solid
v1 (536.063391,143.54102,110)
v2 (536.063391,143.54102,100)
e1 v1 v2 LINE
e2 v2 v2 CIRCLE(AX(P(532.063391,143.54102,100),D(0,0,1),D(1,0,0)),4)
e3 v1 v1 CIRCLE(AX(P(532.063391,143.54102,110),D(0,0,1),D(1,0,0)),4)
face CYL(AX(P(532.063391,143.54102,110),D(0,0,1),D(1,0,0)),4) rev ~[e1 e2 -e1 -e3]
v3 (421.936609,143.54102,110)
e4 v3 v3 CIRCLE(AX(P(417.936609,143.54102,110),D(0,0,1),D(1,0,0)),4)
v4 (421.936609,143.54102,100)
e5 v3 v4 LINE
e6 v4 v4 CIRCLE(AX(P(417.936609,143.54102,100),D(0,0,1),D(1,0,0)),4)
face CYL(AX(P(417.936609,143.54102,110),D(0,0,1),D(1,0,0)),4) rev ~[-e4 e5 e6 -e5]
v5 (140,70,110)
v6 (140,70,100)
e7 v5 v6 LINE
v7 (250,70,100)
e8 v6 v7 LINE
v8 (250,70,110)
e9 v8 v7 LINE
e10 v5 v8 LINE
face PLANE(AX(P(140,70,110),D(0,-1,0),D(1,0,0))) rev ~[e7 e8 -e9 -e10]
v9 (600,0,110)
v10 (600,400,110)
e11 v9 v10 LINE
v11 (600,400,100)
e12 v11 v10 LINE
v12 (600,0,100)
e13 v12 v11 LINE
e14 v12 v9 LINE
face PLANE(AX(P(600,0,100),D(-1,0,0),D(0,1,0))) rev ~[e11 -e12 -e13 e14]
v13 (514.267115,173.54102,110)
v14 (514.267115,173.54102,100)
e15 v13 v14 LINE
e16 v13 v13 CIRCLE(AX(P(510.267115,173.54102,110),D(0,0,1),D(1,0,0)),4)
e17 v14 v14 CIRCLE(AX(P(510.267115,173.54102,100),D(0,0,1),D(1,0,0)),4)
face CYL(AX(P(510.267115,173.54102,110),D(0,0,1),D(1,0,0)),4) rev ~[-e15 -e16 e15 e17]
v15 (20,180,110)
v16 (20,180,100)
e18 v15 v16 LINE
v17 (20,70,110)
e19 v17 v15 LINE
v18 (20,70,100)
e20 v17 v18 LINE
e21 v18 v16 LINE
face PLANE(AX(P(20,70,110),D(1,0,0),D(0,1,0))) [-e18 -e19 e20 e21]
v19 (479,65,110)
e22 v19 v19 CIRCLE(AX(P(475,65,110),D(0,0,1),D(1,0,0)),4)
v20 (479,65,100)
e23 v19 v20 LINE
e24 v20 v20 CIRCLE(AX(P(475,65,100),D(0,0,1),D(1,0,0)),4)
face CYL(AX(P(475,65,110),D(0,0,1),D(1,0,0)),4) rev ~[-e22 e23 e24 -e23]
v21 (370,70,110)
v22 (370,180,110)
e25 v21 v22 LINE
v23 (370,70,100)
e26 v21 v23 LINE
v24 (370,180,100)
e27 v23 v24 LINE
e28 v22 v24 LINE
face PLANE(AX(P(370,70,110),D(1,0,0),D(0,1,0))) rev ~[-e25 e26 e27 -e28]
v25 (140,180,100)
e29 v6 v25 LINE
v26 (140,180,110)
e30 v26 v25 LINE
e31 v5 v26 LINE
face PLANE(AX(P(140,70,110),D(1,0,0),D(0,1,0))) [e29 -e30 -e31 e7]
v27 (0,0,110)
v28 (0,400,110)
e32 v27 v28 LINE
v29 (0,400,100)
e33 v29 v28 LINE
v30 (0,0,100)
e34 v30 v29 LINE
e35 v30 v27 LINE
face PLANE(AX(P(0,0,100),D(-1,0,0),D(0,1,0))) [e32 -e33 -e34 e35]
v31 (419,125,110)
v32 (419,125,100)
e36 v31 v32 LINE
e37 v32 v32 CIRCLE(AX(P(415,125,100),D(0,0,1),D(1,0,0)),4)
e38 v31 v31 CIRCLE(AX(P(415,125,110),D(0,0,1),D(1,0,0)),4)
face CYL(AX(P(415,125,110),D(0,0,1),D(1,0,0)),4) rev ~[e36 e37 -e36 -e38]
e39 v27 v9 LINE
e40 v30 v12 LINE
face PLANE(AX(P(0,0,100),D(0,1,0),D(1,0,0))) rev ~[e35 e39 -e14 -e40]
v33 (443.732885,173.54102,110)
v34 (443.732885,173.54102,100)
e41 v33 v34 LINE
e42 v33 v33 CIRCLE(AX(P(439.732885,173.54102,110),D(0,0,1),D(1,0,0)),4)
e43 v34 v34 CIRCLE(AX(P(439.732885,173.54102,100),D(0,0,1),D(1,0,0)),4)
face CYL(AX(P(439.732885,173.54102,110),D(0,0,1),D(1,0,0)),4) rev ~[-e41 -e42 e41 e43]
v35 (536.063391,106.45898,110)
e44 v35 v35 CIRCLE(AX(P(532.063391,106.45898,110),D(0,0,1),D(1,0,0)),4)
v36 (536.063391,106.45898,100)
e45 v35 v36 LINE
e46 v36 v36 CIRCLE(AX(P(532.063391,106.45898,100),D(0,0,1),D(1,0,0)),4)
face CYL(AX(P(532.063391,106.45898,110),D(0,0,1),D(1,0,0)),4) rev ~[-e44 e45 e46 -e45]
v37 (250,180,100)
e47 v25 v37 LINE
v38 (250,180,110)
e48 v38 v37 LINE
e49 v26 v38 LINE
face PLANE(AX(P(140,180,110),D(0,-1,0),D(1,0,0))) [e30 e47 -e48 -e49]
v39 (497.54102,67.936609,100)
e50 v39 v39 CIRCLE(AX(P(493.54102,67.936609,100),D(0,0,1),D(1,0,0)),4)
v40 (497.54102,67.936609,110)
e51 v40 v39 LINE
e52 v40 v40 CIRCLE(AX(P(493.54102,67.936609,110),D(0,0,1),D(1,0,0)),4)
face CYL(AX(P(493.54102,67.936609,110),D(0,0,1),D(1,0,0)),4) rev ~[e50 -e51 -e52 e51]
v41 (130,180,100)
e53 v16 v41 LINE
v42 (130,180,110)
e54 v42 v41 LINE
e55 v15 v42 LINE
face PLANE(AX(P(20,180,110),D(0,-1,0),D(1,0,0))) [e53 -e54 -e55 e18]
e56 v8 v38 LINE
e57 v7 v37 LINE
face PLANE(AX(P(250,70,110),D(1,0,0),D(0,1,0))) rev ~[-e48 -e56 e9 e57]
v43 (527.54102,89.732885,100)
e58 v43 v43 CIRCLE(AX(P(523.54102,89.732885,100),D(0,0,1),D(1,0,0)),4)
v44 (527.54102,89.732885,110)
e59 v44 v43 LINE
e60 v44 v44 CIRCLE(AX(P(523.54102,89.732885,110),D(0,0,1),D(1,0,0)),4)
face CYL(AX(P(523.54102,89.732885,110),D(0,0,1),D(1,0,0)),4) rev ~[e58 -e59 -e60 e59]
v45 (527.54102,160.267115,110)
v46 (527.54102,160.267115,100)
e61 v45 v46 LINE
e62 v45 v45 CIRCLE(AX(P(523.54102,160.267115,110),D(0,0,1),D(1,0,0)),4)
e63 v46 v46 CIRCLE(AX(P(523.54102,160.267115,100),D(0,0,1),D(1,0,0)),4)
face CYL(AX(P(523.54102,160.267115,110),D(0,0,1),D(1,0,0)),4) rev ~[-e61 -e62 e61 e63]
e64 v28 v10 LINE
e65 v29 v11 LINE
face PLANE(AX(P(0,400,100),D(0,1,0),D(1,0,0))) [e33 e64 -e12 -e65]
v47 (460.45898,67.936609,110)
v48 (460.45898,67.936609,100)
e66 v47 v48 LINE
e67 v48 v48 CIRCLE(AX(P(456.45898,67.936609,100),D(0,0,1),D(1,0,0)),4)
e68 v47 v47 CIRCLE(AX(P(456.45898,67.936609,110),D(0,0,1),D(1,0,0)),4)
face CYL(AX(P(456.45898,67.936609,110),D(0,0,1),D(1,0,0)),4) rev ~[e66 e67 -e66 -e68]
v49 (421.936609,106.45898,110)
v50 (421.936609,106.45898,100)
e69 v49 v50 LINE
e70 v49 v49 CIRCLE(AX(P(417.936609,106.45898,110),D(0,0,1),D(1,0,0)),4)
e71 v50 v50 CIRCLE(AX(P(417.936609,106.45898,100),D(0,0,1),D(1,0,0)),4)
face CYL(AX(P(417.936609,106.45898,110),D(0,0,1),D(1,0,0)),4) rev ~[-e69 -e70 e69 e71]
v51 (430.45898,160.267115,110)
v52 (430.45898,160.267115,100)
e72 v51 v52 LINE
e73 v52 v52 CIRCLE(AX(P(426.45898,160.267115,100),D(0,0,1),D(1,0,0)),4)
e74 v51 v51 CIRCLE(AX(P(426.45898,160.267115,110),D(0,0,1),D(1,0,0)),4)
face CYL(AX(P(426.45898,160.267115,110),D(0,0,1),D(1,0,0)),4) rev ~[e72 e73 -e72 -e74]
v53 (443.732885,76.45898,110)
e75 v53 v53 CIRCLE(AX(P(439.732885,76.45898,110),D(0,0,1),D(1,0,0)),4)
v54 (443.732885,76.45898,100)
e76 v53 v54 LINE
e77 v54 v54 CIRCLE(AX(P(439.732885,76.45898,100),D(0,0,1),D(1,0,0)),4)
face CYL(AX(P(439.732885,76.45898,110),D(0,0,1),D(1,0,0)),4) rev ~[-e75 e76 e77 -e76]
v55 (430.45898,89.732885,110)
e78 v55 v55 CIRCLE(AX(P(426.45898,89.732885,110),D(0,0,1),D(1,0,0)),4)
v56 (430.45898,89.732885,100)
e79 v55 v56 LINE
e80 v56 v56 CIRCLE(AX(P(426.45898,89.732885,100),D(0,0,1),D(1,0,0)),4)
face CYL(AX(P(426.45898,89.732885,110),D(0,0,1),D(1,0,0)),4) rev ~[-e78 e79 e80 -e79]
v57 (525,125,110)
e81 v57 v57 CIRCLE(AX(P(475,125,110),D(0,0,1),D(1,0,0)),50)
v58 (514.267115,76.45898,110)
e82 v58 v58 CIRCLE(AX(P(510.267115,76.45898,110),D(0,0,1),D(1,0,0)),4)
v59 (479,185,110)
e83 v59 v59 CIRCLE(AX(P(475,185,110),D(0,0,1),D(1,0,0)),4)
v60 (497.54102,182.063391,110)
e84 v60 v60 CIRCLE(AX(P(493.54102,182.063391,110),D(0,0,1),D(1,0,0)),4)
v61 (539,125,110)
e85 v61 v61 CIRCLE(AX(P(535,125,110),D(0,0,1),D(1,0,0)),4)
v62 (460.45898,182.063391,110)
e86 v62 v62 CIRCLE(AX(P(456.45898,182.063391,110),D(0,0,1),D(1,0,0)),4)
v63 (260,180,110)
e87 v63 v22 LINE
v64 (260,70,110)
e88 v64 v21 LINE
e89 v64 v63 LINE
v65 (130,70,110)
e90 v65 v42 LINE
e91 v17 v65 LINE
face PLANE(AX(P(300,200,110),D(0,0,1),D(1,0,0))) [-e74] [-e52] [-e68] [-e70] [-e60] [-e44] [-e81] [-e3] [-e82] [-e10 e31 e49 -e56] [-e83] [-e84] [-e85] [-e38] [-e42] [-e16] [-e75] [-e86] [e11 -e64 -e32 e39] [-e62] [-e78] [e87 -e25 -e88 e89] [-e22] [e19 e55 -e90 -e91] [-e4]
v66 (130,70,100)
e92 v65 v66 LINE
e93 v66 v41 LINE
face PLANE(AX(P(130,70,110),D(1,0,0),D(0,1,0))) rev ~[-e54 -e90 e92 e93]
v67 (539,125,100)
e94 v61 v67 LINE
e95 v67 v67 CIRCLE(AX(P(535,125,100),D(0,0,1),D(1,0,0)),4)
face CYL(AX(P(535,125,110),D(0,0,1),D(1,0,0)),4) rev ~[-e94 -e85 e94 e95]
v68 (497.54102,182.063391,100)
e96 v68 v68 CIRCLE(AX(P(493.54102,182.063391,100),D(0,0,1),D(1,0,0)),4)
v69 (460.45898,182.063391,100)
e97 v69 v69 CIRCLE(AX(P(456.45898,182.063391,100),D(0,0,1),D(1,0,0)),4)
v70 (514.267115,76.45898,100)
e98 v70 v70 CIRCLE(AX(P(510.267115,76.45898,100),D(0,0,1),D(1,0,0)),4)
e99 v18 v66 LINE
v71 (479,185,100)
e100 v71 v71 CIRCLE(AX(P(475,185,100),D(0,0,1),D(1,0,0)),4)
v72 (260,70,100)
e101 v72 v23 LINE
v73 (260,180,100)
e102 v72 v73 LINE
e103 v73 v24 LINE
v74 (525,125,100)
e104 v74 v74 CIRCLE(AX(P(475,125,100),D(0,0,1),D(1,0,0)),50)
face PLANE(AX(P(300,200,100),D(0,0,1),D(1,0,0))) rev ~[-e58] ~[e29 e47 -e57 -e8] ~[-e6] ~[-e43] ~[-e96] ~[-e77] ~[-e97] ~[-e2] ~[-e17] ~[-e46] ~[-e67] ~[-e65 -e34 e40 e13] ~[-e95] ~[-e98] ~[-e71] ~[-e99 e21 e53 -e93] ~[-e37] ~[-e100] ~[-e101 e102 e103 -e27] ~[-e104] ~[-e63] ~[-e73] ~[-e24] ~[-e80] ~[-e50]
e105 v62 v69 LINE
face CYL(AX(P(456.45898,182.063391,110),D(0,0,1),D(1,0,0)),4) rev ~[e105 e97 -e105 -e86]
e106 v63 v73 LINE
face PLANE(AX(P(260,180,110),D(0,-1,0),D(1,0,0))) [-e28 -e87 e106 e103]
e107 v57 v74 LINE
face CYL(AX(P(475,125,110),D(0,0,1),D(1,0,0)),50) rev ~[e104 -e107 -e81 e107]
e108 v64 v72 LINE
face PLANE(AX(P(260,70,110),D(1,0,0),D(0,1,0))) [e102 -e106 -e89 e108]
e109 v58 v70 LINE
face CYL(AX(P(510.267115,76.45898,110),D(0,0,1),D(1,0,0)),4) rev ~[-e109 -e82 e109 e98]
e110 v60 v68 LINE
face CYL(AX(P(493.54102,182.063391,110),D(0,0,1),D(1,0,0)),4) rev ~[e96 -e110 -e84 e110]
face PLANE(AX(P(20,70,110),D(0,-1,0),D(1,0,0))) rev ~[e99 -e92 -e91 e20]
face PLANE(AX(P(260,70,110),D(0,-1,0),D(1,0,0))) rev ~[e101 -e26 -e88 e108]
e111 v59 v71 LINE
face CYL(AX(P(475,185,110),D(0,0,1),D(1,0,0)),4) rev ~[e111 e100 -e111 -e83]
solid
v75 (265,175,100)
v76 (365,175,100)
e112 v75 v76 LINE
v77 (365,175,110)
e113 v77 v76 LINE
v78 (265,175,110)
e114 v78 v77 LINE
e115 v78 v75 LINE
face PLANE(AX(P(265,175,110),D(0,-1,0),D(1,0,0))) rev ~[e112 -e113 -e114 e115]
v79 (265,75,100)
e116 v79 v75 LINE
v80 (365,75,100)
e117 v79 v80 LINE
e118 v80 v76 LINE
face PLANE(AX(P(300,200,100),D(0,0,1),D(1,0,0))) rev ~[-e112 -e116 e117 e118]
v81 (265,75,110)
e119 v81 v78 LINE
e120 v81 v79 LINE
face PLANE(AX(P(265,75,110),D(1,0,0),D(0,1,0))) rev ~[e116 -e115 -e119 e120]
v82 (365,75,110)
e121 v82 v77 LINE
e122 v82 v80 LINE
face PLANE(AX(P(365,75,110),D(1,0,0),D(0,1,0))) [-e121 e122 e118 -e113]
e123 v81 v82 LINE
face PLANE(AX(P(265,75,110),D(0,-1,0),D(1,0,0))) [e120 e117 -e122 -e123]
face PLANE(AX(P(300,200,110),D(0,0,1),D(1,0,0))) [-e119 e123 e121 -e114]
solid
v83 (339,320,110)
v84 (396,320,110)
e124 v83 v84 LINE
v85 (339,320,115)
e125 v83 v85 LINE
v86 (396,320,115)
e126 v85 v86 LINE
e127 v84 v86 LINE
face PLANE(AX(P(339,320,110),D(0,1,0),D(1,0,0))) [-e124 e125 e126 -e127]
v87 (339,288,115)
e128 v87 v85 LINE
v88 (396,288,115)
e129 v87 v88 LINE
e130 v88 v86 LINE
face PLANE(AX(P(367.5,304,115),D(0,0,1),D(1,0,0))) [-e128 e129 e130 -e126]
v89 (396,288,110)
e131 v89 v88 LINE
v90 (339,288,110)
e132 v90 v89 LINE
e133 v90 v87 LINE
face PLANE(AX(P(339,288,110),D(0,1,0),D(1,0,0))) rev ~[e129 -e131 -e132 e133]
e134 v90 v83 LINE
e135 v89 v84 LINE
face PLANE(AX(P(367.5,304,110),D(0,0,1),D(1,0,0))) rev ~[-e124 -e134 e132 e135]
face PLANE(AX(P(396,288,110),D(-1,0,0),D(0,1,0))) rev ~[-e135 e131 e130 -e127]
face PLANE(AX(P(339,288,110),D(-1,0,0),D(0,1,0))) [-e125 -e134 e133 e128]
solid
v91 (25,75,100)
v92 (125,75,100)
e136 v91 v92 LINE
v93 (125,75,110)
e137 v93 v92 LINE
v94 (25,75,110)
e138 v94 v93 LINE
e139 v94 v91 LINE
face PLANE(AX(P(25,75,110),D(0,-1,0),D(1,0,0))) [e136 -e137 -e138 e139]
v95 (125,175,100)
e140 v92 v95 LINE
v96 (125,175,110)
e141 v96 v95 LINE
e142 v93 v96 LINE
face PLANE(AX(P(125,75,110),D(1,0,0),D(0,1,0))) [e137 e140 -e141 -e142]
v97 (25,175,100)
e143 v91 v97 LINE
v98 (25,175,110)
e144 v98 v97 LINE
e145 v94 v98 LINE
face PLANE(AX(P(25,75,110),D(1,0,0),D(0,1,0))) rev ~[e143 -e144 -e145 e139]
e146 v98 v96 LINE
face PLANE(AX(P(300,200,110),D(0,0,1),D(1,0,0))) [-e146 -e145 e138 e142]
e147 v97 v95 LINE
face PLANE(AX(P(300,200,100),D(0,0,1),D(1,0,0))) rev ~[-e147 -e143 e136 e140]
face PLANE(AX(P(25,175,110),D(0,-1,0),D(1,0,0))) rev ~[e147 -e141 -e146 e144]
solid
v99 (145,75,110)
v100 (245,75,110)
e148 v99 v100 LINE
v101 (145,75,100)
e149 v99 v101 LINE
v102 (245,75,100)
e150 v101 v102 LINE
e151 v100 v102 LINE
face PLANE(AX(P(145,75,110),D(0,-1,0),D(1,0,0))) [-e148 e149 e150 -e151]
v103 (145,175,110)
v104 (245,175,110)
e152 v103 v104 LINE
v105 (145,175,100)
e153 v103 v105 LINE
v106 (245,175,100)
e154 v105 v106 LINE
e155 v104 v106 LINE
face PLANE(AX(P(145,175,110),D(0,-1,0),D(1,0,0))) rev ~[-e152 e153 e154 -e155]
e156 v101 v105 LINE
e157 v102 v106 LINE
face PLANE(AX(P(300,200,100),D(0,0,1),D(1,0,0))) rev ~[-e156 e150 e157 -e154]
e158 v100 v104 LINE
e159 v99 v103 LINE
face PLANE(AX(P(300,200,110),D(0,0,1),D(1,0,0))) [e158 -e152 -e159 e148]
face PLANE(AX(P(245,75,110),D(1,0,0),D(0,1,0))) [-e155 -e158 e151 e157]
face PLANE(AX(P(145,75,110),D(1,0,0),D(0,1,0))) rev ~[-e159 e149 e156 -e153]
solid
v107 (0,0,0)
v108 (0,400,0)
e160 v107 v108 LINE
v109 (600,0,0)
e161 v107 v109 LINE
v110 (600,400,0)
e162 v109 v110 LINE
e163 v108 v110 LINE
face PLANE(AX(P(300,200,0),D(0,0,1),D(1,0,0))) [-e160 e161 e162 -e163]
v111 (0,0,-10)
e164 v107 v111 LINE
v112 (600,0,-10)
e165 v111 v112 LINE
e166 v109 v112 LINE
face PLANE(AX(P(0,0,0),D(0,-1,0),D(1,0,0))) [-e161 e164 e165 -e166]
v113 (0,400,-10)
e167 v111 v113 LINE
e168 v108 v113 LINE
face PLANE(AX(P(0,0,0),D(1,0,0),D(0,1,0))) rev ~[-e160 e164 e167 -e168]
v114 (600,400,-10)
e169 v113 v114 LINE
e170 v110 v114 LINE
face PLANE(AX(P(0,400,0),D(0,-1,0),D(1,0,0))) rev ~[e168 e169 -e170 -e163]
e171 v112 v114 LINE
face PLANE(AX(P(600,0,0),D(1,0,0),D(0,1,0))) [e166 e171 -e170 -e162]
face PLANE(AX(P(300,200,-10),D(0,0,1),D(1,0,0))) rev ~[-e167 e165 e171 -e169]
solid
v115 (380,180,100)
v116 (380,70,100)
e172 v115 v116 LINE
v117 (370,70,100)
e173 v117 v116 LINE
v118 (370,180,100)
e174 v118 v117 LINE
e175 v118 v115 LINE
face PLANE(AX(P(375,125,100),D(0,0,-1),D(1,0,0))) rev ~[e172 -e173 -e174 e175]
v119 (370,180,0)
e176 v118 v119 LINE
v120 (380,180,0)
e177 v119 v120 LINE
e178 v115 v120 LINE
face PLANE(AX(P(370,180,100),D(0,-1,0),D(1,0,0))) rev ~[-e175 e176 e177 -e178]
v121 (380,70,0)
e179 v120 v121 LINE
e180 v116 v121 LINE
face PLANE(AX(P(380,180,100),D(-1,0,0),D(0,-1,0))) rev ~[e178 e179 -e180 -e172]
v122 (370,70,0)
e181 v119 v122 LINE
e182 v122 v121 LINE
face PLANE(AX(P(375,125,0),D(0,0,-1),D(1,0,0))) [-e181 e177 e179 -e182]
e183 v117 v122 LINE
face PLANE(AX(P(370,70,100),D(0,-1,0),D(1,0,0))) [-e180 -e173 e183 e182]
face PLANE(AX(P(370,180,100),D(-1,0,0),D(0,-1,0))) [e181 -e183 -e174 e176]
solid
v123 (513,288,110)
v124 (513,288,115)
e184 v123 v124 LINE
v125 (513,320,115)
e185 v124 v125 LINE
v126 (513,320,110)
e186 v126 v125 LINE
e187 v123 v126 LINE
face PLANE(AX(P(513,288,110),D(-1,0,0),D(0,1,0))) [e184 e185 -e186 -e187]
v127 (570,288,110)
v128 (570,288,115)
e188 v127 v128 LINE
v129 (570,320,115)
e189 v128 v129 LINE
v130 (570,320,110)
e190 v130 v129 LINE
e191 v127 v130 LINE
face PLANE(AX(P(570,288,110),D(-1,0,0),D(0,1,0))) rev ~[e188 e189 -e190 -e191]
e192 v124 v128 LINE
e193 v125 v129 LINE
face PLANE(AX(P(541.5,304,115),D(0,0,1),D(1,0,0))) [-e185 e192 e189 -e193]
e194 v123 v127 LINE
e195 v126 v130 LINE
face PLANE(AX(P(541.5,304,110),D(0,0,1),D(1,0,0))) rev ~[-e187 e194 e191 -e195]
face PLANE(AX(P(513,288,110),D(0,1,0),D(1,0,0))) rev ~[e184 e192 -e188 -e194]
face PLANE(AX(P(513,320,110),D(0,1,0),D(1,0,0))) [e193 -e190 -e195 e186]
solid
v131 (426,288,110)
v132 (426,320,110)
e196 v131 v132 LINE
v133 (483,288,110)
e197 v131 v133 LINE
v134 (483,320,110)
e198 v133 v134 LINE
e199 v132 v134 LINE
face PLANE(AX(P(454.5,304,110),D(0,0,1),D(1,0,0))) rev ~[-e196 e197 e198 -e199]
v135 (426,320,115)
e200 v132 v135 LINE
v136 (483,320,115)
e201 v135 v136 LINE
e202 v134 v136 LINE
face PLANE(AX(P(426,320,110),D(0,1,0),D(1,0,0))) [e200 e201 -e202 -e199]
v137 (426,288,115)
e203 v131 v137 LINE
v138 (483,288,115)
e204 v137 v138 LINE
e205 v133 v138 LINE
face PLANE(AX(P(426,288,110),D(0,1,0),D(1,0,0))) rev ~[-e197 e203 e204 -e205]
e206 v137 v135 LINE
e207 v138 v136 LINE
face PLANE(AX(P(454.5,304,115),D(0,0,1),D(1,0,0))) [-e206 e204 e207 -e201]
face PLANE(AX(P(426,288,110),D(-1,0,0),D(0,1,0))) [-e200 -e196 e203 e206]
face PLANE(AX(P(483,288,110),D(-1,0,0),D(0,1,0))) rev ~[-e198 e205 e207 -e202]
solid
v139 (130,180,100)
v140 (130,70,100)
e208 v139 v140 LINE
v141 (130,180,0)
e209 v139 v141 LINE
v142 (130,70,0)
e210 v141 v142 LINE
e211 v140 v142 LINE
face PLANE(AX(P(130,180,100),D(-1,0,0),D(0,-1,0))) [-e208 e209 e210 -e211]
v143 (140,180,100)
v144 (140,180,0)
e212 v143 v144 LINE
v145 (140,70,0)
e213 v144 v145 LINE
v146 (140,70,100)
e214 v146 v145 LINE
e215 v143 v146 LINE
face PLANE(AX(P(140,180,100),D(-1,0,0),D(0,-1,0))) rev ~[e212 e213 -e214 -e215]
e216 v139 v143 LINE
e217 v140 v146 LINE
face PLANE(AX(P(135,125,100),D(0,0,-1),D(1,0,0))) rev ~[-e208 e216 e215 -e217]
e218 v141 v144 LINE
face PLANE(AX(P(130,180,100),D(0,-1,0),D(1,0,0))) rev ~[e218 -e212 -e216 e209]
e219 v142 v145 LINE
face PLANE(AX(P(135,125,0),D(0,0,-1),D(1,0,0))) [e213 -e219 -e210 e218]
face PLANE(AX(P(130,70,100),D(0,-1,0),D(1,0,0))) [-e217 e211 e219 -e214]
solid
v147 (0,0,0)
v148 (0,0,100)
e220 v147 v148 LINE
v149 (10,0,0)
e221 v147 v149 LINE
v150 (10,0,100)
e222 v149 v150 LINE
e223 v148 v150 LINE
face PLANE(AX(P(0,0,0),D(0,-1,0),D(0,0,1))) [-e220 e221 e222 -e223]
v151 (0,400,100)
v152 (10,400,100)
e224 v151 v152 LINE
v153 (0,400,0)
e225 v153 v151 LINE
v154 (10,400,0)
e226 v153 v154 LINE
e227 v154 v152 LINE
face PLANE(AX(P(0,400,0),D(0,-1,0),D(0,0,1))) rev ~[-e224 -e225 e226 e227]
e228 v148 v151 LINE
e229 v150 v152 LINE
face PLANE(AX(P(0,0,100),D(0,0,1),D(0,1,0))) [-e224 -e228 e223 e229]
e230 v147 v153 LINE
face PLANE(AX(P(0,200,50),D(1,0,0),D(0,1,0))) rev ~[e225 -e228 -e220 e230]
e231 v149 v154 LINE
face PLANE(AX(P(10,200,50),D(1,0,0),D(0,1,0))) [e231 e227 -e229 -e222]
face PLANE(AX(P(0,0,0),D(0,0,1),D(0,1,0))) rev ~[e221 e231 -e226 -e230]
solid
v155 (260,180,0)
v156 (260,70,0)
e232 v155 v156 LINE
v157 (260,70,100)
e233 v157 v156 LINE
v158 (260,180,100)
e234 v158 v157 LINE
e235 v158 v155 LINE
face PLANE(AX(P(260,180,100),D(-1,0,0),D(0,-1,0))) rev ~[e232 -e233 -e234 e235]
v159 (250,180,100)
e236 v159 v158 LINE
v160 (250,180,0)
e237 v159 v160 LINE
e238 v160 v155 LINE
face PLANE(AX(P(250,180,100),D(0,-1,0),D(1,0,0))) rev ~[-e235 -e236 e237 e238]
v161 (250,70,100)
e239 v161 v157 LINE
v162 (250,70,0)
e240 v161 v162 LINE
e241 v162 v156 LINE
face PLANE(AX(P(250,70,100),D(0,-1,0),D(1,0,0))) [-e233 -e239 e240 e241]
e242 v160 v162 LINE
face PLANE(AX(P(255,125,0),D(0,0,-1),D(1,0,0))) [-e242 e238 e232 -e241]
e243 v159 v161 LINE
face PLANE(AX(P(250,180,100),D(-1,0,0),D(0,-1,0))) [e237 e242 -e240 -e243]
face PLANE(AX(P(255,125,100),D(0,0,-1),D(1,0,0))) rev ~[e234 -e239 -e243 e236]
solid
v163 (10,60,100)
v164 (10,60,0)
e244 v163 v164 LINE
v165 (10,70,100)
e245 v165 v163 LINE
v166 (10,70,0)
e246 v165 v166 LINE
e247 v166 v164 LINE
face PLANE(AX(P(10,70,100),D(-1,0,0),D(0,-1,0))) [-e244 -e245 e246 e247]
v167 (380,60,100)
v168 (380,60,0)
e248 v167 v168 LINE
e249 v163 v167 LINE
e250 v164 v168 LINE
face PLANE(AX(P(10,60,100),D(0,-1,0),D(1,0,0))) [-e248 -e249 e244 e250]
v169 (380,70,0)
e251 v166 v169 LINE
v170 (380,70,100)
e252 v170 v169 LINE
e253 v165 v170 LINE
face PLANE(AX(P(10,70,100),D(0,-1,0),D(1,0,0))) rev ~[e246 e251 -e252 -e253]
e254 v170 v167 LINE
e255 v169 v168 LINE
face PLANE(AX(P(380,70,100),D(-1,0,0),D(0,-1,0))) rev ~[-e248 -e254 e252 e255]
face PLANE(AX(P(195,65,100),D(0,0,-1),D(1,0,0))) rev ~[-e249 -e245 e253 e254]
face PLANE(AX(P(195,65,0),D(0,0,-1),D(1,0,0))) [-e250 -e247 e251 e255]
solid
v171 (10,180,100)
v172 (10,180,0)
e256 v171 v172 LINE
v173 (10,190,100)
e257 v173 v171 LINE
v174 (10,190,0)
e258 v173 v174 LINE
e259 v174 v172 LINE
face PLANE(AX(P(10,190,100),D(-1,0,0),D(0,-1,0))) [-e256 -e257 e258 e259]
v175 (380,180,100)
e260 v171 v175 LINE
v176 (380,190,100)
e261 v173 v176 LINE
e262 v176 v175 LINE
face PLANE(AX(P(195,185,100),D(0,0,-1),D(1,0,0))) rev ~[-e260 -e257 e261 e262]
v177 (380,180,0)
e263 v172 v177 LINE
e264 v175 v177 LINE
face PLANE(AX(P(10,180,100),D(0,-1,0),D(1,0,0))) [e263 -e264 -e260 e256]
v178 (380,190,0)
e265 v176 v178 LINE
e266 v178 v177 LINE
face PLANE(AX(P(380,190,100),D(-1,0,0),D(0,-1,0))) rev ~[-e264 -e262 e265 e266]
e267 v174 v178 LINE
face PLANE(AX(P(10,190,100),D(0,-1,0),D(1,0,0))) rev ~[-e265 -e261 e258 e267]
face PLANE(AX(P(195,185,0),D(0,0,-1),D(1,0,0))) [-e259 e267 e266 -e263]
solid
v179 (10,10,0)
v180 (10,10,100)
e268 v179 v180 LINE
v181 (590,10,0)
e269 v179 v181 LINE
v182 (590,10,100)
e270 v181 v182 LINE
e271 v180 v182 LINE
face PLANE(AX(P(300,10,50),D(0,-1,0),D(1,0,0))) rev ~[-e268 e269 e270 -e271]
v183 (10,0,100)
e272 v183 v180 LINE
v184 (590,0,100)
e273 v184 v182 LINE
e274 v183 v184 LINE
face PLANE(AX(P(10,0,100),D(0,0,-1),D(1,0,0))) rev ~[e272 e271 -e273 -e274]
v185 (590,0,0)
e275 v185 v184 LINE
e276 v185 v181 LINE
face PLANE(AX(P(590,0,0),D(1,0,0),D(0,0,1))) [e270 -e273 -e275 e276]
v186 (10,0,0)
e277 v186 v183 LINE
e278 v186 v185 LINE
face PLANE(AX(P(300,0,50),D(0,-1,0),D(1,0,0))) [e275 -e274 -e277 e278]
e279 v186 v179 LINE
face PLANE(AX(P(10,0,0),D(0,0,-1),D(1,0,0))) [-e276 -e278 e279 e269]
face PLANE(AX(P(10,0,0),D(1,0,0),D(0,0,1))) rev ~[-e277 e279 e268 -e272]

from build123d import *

# Parameters (mm, degrees)
F0_W      = 600
F0_H      = 400
F1_DEPTH  = 10
F2_W      = 400
F2_H      = 100
F3_DEPTH  = 10
F4_W      = 580
F4_H      = 100
F5_DEPTH  = 10
F6_W      = 600
F6_H      = 400
F7_DEPTH  = 10
F8_W      = 110
F8_H      = 110
F8_W_2    = 100
F8_H_2    = 100
F9_DEPTH  = 10
F10_W     = 10
F10_H     = 110
F11_DEPTH = 100
F12_W     = 370
F12_H     = 10
F13_DEPTH = 100
F14_R     = 50
F14_R_2   = 4
F15_DEPTH = 10
F16_W     = 57
F16_H     = 32
F17_DEPTH = 5


with BuildPart() as f1:
    # F0 (on Top) → F1 (new body)
    with BuildSketch(Plane.XY):
        with Locations((300, 200)):
            Rectangle(F0_W, F0_H)
    extrude(amount=-F1_DEPTH)


with BuildPart() as f3:
    # F2 (on Right) → F3 (new body)
    with BuildSketch(Plane.YZ):
        with Locations((200, 50)):
            Rectangle(F2_W, F2_H)
    extrude(amount=F3_DEPTH)


with BuildPart() as f5:
    # F4 (on Front) → F5 (new body)
    with BuildSketch(Plane.XZ):
        with Locations((300, 50)):
            Rectangle(F4_W, F4_H)
    extrude(amount=-F5_DEPTH)


with BuildPart() as f7:
    # F6 (on face) → F7 (new body)
    with BuildSketch(Plane.XY.offset(100)):
        with Locations((300, 200)):
            Rectangle(F6_W, F6_H)
    extrude(amount=F7_DEPTH)

    # F8 (on face) → F9 (cut, through all)
    with BuildSketch(Plane.XY.offset(110)):
        with Locations((75, 125)):
            Rectangle(F8_W, F8_H)
        with Locations((75, 125)):
            Rectangle(F8_W_2, F8_H_2, mode=Mode.SUBTRACT)
        with Locations((195, 125)):
            Rectangle(F8_W, F8_H)
        with Locations((195, 125)):
            Rectangle(F8_W_2, F8_H_2, mode=Mode.SUBTRACT)
        with Locations((315, 125)):
            Rectangle(F8_W, F8_H)
        with Locations((315, 125)):
            Rectangle(F8_W_2, F8_H_2, mode=Mode.SUBTRACT)
    extrude(amount=-F9_DEPTH, mode=Mode.SUBTRACT)

    # F14 (on face) → F15 (cut, through all)
    with BuildSketch(Plane.XY.offset(110)):
        with Locations((475, 125)):
            Circle(F14_R)
        with Locations((415, 125)):
            Circle(F14_R_2)
        with Locations((417.9366090223, 106.4589803375)):
            Circle(F14_R_2)
        with Locations((426.4589803375, 89.7328848625)):
            Circle(F14_R_2)
        with Locations((439.7328848625, 76.4589803375)):
            Circle(F14_R_2)
        with Locations((456.4589803375, 67.9366090223)):
            Circle(F14_R_2)
        with Locations((475, 65)):
            Circle(F14_R_2)
        with Locations((493.5410196625, 67.9366090223)):
            Circle(F14_R_2)
        with Locations((510.2671151375, 76.4589803375)):
            Circle(F14_R_2)
        with Locations((523.5410196625, 89.7328848625)):
            Circle(F14_R_2)
        with Locations((532.0633909777, 106.4589803375)):
            Circle(F14_R_2)
        with Locations((523.5410196625, 160.2671151375)):
            Circle(F14_R_2)
        with Locations((510.2671151375, 173.5410196625)):
            Circle(F14_R_2)
        with Locations((493.5410196625, 182.0633909777)):
            Circle(F14_R_2)
        with Locations((475, 185)):
            Circle(F14_R_2)
        with Locations((456.4589803375, 182.0633909777)):
            Circle(F14_R_2)
        with Locations((439.7328848625, 173.5410196625)):
            Circle(F14_R_2)
        with Locations((426.4589803375, 160.2671151375)):
            Circle(F14_R_2)
        with Locations((417.9366090223, 143.5410196625)):
            Circle(F14_R_2)
        with Locations((535, 125)):
            Circle(F14_R_2)
        with Locations((532.0633909777, 143.5410196625)):
            Circle(F14_R_2)
    extrude(amount=-F15_DEPTH, mode=Mode.SUBTRACT)


with BuildPart() as f11:
    # F10 (on face) → F11 (new body, through all)
    with BuildSketch(Plane(origin=(0, 0, 100), x_dir=(1, 0, 0), z_dir=(0, 0, -1))):
        with Locations((135, -125)):
            Rectangle(F10_W, F10_H)
    extrude(amount=F11_DEPTH)


with BuildPart() as f11b:
    # F10 (on face) → F11, piece 2 (new body, through all)
    with BuildSketch(Plane(origin=(0, 0, 100), x_dir=(1, 0, 0), z_dir=(0, 0, -1))):
        with Locations((255, -125)):
            Rectangle(F10_W, F10_H)
    extrude(amount=F11_DEPTH)


with BuildPart() as f11c:
    # F10 (on face) → F11, piece 3 (new body, through all)
    with BuildSketch(Plane(origin=(0, 0, 100), x_dir=(1, 0, 0), z_dir=(0, 0, -1))):
        with Locations((375, -125)):
            Rectangle(F10_W, F10_H)
    extrude(amount=F11_DEPTH)


with BuildPart() as f13:
    # F12 (on face) → F13 (new body, through all)
    with BuildSketch(Plane(origin=(0, 0, 100), x_dir=(1, 0, 0), z_dir=(0, 0, -1))):
        with Locations((195, -185)):
            Rectangle(F12_W, F12_H)
    extrude(amount=F13_DEPTH)


with BuildPart() as f13b:
    # F12 (on face) → F13, piece 2 (new body, through all)
    with BuildSketch(Plane(origin=(0, 0, 100), x_dir=(1, 0, 0), z_dir=(0, 0, -1))):
        with Locations((195, -65)):
            Rectangle(F12_W, F12_H)
    extrude(amount=F13_DEPTH)


with BuildPart() as f17:
    # F16 (on face) → F17 (new body)
    with BuildSketch(Plane.XY.offset(110)):
        with Locations((541.5, 304)):
            Rectangle(F16_W, F16_H)
    extrude(amount=F17_DEPTH)


with BuildPart() as f17b:
    # F16 (on face) → F17, piece 2 (new body)
    with BuildSketch(Plane.XY.offset(110)):
        with Locations((454.5, 304)):
            Rectangle(F16_W, F16_H)
    extrude(amount=F17_DEPTH)


with BuildPart() as f17c:
    # F16 (on face) → F17, piece 3 (new body)
    with BuildSketch(Plane.XY.offset(110)):
        with Locations((367.5, 304)):
            Rectangle(F16_W, F16_H)
    extrude(amount=F17_DEPTH)


solid = Compound([f1.part, f3.part, f5.part, f7.part, f11.part, f11b.part, f11c.part, f13.part, f13b.part, f17.part, f17b.part, f17c.part])
